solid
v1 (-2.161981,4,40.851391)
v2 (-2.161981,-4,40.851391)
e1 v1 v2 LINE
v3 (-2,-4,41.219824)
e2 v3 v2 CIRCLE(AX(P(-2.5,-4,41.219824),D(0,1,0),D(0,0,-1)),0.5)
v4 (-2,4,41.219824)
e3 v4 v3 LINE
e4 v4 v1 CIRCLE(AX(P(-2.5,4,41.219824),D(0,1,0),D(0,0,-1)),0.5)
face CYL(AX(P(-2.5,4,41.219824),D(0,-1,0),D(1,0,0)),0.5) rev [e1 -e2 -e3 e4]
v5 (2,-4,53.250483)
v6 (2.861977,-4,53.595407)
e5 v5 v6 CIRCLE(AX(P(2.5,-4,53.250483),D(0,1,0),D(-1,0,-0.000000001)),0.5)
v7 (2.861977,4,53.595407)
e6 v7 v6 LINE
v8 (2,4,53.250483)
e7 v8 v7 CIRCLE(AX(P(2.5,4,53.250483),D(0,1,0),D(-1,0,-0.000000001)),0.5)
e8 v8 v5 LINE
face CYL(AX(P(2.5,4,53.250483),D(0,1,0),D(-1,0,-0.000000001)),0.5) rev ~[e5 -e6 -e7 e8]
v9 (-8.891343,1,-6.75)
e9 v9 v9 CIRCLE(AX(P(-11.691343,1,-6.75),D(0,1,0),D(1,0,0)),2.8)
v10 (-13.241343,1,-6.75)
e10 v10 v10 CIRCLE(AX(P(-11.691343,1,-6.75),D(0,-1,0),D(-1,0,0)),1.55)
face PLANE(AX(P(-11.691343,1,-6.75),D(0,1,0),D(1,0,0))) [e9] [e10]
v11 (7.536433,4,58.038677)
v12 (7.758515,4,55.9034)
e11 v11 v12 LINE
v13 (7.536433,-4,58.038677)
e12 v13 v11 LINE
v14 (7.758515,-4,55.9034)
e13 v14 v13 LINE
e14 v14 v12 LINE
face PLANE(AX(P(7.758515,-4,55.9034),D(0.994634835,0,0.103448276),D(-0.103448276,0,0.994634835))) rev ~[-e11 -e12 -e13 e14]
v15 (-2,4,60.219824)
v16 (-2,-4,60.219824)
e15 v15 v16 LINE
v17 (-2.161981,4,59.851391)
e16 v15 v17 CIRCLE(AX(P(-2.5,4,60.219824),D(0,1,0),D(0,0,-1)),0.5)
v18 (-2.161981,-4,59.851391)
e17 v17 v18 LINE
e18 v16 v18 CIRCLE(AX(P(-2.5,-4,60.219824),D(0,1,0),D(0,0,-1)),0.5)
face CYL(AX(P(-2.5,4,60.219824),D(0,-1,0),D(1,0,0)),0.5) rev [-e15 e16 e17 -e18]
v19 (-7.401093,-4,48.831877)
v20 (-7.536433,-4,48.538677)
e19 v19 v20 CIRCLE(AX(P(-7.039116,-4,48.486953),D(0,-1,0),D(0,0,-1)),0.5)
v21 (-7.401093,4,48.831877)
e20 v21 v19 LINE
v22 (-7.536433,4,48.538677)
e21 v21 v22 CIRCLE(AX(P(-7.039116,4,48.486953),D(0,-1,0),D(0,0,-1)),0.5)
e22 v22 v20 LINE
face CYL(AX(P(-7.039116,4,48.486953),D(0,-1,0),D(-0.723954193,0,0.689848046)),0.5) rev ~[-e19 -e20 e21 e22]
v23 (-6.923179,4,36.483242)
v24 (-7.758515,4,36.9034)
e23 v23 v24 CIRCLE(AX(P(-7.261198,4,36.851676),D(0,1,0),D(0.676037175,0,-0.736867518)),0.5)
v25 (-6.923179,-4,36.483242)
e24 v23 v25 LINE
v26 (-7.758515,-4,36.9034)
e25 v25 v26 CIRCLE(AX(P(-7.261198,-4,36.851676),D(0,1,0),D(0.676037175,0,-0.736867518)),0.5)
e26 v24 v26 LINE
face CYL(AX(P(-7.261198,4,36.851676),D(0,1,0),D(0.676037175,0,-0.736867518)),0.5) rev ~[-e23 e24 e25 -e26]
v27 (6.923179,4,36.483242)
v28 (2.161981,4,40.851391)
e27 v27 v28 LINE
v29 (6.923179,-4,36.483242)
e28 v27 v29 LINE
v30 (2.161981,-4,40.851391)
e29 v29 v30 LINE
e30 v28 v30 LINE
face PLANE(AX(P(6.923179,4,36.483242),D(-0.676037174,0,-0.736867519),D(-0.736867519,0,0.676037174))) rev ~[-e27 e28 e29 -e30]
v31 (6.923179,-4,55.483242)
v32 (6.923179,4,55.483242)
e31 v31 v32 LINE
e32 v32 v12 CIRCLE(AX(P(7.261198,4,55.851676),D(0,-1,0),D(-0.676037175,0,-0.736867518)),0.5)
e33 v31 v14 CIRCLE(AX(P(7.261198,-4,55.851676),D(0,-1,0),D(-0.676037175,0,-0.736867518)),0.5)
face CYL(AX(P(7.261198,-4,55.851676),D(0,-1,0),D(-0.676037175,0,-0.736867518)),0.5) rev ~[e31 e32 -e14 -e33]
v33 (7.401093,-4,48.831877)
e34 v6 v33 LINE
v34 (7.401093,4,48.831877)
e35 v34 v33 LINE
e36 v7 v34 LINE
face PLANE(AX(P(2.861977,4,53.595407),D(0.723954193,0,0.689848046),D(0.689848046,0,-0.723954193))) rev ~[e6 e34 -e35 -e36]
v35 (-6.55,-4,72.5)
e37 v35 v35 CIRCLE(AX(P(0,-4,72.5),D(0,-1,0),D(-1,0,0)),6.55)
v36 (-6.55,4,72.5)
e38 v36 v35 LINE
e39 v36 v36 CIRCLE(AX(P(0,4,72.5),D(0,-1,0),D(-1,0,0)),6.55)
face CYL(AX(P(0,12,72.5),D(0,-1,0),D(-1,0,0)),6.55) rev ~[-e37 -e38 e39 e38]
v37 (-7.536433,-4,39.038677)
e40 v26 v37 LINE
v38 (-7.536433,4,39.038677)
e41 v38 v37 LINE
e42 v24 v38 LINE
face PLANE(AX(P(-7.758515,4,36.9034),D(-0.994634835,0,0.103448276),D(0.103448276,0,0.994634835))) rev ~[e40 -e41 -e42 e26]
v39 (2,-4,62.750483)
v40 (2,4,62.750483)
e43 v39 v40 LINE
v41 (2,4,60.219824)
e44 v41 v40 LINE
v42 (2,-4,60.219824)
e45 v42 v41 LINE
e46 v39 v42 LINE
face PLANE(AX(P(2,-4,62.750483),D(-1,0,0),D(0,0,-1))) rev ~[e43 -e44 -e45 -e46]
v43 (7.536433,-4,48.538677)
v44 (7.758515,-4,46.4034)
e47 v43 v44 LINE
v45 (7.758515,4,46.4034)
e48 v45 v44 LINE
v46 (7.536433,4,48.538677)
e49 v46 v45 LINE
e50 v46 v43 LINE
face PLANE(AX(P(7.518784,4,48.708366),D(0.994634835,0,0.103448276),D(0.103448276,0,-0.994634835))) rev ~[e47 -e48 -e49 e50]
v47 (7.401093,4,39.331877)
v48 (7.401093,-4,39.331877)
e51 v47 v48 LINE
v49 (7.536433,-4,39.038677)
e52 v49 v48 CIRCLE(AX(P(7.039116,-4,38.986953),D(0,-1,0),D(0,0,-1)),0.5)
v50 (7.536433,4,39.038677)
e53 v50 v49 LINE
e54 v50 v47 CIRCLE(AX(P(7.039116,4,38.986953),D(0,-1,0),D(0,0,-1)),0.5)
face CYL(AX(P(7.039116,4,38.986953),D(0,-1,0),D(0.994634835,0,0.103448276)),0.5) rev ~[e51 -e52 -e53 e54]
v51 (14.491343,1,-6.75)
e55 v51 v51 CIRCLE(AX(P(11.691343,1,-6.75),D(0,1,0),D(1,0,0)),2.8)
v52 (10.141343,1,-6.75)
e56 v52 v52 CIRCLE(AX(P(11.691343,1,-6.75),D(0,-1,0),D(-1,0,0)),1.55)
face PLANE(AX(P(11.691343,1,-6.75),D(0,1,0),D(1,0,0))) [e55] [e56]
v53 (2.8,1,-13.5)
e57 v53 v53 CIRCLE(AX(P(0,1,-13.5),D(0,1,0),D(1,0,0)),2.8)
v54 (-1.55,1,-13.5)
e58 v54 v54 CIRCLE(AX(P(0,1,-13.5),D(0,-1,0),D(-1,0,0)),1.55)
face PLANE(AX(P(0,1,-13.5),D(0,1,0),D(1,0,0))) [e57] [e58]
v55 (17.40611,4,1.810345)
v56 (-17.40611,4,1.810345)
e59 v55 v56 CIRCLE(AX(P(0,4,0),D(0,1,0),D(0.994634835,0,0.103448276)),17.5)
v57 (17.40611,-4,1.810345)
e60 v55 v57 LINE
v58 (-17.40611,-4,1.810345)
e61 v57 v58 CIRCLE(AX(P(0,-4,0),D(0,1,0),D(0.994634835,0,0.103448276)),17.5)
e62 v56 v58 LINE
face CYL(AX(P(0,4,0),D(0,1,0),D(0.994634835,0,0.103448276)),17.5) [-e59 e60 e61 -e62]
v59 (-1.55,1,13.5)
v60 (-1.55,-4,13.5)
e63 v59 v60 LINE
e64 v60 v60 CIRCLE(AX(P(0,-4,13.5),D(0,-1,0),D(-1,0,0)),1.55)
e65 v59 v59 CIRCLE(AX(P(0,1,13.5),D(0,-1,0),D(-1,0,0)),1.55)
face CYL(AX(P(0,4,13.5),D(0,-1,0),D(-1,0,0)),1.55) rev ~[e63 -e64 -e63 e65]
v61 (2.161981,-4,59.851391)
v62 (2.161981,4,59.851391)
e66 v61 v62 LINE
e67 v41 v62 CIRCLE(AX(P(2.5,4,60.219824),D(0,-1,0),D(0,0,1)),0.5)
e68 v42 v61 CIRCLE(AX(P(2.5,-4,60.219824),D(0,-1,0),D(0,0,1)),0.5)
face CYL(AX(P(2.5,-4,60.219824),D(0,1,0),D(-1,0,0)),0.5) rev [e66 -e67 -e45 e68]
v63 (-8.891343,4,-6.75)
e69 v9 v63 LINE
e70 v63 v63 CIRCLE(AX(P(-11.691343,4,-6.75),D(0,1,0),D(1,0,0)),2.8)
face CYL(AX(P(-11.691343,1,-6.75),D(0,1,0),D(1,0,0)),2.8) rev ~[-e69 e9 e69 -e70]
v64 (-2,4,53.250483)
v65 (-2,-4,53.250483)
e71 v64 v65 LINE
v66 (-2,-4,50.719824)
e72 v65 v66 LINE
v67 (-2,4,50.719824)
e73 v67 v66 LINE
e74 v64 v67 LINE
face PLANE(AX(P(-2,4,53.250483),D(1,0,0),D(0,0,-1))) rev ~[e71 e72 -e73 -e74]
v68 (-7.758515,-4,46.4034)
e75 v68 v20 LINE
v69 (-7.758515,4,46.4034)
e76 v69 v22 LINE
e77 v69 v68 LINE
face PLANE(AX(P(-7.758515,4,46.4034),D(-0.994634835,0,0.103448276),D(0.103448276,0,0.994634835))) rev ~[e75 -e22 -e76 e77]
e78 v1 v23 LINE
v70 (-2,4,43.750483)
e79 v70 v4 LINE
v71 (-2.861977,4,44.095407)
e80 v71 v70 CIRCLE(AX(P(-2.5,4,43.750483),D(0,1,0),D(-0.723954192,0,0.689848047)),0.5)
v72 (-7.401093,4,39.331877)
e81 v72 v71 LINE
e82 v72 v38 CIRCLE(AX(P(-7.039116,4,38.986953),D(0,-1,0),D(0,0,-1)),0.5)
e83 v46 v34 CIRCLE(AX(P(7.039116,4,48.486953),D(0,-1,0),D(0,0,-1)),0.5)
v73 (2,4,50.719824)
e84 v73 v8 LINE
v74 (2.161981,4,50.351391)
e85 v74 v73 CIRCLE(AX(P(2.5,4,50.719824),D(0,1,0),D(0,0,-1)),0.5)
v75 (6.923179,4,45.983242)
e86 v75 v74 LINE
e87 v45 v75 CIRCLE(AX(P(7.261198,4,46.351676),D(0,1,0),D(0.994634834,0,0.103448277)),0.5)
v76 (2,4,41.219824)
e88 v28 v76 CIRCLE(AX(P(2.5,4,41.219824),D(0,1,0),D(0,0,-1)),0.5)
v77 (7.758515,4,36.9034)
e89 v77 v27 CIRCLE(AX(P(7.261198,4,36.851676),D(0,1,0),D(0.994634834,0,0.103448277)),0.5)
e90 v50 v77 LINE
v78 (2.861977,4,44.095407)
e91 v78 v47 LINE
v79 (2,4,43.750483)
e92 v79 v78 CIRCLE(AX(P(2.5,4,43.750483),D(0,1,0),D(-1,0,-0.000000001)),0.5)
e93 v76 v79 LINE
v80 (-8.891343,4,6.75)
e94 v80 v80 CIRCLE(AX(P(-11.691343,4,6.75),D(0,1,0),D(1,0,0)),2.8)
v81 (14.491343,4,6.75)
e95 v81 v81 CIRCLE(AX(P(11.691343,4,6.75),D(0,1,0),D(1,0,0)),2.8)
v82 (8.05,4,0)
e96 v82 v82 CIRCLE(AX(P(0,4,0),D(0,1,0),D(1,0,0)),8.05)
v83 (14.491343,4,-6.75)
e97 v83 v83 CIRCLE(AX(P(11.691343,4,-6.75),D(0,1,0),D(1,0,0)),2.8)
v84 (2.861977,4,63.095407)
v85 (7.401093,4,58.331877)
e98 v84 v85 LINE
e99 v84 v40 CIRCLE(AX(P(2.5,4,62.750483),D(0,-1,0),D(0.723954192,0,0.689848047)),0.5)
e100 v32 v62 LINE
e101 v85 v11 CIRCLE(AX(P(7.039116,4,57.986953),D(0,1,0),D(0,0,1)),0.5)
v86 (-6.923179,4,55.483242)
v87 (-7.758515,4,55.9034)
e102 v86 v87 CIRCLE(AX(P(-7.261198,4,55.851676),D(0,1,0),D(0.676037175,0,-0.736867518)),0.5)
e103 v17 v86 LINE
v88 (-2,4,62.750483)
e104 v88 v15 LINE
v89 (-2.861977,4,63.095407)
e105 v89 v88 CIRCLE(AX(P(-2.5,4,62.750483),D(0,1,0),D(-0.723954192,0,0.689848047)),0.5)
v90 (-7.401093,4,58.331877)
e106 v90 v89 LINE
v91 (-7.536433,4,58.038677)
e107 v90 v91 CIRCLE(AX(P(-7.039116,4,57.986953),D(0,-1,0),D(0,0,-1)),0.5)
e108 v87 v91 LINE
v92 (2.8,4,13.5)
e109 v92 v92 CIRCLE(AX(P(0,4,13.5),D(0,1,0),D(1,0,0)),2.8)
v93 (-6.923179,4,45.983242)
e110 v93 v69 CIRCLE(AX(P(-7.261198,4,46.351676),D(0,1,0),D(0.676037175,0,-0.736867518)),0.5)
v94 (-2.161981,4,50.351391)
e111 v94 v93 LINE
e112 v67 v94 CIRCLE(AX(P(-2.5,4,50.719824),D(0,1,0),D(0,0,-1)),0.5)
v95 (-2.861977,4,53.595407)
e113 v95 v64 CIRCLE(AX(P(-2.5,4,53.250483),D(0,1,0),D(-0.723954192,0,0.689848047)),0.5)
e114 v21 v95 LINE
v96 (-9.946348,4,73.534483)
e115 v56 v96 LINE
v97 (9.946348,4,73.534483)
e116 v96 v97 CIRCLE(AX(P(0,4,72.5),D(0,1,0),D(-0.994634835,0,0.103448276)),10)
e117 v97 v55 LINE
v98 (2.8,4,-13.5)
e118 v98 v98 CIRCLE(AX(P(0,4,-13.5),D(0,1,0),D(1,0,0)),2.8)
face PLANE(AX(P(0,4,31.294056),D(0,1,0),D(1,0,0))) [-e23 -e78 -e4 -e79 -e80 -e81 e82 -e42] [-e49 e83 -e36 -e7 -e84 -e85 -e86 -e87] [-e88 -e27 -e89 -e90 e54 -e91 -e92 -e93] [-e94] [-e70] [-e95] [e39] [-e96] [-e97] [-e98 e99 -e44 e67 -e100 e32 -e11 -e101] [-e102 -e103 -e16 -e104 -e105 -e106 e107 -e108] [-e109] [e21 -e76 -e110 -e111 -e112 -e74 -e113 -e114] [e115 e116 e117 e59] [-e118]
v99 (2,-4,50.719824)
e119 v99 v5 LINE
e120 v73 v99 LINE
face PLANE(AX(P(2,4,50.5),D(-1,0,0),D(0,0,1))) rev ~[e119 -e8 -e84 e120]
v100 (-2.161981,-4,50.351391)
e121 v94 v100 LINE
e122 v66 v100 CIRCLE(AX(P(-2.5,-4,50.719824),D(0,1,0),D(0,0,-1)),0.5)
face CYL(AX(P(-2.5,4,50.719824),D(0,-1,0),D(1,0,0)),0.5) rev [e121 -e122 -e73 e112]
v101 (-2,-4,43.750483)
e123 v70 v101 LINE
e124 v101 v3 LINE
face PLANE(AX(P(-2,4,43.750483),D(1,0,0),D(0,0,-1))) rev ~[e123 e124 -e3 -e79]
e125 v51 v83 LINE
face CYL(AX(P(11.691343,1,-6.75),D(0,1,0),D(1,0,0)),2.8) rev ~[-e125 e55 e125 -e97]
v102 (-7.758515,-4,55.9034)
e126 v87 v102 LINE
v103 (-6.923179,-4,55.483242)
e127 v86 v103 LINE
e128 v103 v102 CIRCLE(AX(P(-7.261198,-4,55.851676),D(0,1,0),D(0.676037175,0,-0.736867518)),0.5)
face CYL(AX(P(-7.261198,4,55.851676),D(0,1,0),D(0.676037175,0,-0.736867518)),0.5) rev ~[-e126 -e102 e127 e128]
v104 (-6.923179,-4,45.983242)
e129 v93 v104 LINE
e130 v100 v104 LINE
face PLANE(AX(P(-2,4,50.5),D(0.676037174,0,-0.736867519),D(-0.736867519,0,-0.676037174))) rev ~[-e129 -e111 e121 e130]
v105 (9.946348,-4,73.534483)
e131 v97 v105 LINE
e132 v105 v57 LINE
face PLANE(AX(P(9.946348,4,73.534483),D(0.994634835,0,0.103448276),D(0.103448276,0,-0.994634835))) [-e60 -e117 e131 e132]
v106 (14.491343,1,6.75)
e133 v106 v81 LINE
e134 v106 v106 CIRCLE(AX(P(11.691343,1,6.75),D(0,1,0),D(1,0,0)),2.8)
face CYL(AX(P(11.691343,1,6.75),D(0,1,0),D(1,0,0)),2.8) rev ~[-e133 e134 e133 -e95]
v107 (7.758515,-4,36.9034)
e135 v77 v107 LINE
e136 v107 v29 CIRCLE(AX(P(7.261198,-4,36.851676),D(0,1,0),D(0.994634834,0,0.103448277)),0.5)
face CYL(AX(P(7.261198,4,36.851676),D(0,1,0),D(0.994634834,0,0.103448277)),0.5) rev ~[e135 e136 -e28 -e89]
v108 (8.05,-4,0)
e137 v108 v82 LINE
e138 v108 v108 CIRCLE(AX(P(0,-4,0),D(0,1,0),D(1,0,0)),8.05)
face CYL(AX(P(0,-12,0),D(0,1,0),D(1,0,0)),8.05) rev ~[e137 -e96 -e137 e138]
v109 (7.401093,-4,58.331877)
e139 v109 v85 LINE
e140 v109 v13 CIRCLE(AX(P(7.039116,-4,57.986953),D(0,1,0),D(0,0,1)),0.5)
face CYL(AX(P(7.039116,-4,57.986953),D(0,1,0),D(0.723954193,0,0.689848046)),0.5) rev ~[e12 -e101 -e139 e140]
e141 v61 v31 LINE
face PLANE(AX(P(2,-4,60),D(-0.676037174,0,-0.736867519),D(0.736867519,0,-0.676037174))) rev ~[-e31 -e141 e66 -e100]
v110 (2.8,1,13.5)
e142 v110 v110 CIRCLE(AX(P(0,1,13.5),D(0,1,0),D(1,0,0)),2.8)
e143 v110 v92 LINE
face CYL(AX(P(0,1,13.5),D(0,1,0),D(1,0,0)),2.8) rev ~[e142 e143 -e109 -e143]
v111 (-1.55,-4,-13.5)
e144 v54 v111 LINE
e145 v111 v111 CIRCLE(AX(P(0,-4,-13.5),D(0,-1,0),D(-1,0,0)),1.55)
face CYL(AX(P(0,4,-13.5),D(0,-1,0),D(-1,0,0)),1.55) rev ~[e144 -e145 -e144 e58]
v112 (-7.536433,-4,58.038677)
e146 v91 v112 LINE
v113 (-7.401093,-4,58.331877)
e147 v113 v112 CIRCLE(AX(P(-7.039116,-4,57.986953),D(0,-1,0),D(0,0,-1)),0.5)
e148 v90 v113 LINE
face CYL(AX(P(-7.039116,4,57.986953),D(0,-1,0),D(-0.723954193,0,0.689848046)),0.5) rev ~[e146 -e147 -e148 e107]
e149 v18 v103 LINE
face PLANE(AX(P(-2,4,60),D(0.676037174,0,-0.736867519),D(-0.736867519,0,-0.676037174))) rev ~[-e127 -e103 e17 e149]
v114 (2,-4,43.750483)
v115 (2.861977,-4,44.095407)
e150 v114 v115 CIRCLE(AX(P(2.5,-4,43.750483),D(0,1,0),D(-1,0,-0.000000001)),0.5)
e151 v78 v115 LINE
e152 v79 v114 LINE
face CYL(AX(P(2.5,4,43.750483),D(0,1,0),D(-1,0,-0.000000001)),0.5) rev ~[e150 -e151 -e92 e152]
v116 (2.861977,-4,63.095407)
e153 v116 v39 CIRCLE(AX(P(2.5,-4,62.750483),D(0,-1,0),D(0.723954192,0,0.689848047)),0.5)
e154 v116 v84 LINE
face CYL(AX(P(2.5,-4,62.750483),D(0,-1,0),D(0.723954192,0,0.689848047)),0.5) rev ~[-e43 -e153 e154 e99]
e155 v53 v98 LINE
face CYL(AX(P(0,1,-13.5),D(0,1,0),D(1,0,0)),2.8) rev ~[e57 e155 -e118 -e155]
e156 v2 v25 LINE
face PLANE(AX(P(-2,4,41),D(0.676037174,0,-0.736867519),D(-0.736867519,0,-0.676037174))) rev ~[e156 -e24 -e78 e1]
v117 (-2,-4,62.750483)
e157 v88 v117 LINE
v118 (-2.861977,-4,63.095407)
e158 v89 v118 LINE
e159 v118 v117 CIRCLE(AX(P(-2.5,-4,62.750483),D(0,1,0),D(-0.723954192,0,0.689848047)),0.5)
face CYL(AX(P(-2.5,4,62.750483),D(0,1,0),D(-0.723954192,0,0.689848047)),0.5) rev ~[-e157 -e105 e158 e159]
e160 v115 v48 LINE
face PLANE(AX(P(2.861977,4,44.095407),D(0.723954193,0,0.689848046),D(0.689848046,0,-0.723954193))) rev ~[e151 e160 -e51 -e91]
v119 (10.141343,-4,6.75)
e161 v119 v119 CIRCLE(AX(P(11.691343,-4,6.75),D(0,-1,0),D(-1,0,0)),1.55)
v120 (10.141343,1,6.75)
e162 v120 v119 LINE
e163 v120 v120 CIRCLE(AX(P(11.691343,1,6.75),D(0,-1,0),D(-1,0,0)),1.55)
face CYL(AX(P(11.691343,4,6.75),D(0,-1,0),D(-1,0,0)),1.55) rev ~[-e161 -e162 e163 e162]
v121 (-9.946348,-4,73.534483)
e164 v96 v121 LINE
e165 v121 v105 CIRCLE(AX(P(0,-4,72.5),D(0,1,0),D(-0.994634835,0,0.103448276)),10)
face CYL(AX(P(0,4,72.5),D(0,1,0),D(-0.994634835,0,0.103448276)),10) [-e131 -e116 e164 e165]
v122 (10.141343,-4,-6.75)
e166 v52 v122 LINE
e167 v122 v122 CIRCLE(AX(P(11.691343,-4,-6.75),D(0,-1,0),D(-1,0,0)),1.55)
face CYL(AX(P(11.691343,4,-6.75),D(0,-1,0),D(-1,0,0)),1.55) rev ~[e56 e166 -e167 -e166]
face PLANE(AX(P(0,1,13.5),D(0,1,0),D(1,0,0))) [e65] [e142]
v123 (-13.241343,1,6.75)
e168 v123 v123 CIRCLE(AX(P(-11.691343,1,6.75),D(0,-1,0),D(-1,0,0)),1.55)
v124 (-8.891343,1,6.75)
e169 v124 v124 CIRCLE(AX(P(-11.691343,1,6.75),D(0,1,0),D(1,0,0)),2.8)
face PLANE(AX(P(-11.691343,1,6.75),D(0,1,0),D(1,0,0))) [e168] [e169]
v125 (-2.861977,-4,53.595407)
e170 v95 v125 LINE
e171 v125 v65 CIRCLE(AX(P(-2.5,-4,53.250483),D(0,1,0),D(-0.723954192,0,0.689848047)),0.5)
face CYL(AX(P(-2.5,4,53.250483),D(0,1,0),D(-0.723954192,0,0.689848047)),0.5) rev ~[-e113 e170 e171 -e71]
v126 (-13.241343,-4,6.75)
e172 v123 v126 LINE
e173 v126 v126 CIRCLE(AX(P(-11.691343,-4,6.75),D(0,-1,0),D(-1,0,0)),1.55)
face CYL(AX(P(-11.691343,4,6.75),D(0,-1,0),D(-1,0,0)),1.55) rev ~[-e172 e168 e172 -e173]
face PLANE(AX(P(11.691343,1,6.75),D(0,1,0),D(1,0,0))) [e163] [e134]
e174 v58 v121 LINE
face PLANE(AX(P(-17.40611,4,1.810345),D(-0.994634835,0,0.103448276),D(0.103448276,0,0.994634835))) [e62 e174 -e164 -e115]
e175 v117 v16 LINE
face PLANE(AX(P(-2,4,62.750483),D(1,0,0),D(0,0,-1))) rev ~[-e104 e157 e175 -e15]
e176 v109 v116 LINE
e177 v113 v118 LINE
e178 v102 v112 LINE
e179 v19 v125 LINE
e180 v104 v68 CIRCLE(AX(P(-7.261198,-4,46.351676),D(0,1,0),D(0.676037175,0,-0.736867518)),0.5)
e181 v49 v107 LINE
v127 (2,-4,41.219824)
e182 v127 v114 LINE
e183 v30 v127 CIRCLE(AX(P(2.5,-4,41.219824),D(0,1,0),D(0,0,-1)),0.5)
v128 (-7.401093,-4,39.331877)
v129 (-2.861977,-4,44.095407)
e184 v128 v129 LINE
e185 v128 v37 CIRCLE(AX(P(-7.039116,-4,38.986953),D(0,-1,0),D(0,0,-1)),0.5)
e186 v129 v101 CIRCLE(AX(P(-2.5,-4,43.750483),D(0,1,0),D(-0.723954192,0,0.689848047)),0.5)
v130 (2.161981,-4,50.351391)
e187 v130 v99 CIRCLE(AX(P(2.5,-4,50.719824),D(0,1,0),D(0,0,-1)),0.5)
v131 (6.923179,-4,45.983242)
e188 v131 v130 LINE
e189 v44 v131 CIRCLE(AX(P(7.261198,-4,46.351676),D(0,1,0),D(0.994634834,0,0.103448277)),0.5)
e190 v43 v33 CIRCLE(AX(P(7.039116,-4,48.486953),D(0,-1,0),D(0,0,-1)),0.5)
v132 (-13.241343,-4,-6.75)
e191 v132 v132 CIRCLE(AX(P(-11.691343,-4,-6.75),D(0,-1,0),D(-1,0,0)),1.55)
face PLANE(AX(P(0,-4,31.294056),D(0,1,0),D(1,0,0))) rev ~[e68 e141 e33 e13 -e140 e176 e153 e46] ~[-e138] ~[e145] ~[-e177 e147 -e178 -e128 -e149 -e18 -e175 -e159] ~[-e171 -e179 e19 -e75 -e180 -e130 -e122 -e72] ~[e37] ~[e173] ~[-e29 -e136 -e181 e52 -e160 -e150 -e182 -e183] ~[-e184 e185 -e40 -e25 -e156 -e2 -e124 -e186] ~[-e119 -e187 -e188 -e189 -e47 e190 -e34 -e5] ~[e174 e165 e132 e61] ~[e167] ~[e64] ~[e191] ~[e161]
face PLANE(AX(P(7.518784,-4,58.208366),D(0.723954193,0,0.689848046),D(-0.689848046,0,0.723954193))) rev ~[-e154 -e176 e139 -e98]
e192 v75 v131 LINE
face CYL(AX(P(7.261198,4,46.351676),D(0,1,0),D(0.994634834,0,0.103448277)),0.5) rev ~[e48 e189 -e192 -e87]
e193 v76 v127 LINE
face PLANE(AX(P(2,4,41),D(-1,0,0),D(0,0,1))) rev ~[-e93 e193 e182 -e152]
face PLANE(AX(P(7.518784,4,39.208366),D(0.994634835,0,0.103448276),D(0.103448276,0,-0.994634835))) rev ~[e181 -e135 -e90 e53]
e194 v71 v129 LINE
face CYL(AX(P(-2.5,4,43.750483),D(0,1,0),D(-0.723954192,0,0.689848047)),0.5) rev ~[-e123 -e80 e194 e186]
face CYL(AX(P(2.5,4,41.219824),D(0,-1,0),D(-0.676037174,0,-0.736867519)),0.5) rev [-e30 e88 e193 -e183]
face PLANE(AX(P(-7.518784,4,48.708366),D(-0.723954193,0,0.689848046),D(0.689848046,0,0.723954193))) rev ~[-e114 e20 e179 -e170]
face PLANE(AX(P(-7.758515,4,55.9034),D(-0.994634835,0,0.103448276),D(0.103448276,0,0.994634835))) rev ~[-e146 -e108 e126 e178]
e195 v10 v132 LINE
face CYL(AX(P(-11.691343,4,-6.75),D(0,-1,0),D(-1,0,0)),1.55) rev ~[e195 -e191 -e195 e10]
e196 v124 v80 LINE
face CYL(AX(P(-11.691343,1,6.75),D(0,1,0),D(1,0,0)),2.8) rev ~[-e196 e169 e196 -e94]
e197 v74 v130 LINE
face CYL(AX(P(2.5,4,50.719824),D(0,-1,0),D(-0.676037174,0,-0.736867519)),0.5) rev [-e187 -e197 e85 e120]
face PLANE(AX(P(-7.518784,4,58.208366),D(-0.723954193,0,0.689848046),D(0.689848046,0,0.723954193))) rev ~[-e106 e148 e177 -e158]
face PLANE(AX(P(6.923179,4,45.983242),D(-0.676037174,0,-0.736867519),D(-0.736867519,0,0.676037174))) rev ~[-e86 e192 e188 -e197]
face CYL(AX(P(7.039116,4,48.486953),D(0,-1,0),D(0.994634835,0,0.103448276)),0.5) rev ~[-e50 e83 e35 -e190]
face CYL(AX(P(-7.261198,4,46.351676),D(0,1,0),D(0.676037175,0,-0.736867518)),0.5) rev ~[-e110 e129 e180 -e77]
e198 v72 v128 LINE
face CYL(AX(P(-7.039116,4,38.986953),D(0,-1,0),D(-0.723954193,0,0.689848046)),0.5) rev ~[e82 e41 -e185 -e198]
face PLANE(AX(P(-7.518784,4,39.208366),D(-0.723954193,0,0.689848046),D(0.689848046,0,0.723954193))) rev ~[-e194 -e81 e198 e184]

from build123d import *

# Parameters (mm, degrees)
EXTRUDE_1_DEPTH                = 8
CUT_EXTRUDE_1_DEPTH            = 9
CUT_EXTRUDE_2_DEPTH            = 9
CUT_EXTRUDE_3_DEPTH            = 9
CUT_EXTRUDE_4_DEPTH            = 9
CUT_EXTRUDE_5_DEPTH            = 9
CUT_EXTRUDE_6_DEPTH            = 9
HOLE_WIZARD_16_0_16_1_D        = 16.1
HOLE_WIZARD_16_0_16_1_DEPTH    = 8
HOLE_WIZARD_13_0_13_1_D        = 13.1
HOLE_WIZARD_13_0_13_1_DEPTH    = 8
HOLE_WIZARD_M2_5_1_D           = 3.1
HOLE_WIZARD_M2_5_1_DEPTH       = 8
HOLE_WIZARD_M2_5_1_CBORE_D     = 5.6
HOLE_WIZARD_M2_5_1_CBORE_DEPTH = 3
FILLET_1_R                     = 0.5


with BuildPart() as part:
    # 草图1 → 凸台-拉伸1 (new body)
    with BuildSketch(Plane(origin=(0, 4, 0), x_dir=(1, 0, 0), z_dir=(0, 1, 0))):
        with BuildLine():
            Line((-17.406109606, -1.810344828), (-9.946348346, -73.534482759))
            ThreePointArc((-9.946348346, -73.534482759), (0, -82.5), (9.946348346, -73.534482759))
            Line((9.946348346, -73.534482759), (17.406109606, -1.810344828))
            ThreePointArc((17.406109606, -1.810344828), (0, 17.5), (-17.406109606, -1.810344828))
        make_face()
    extrude(amount=-EXTRUDE_1_DEPTH)

    # 草图2 → 切除-拉伸1 (cut, through all)
    with BuildSketch(Plane(origin=(0, 4, 0), x_dir=(-1, 0, 0), z_dir=(0, 1, 0))):
        with BuildLine():
            Line((2, 43.750482659), (2, 41))
            Line((2, 41), (6.923179382, 36.483241979))
            ThreePointArc((6.923179382, 36.483241979), (7.485869271, 36.40499598), (7.758515386, 36.903399876))
            Line((7.758515386, 36.903399876), (7.518784371, 39.208366459))
            Line((7.518784371, 39.208366459), (2.861977096, 44.095406683))
            ThreePointArc((2.861977096, 44.095406683), (2.314242831, 44.214696268), (2, 43.750482659))
        make_face()
    extrude(amount=-CUT_EXTRUDE_1_DEPTH, mode=Mode.SUBTRACT)

    # 草图3 → 切除-拉伸2 (cut, through all)
    with BuildSketch(Plane(origin=(0, 4, 0), x_dir=(-1, 0, 0), z_dir=(0, 1, 0))):
        with BuildLine():
            Line((-6.923179382, 36.483241979), (-2, 41))
            Line((-2, 41), (-2, 43.750482659))
            ThreePointArc((-2, 43.750482659), (-2.314242831, 44.214696268), (-2.861977096, 44.095406683))
            Line((-2.861977096, 44.095406683), (-7.518784371, 39.208366459))
            Line((-7.518784371, 39.208366459), (-7.758515386, 36.903399876))
            ThreePointArc((-7.758515386, 36.903399876), (-7.485869271, 36.40499598), (-6.923179382, 36.483241979))
        make_face()
    extrude(amount=-CUT_EXTRUDE_2_DEPTH, mode=Mode.SUBTRACT)

    # 草图4 → 切除-拉伸3 (cut, through all)
    with BuildSketch(Plane(origin=(0, 4, 0), x_dir=(-1, 0, 0), z_dir=(0, 1, 0))):
        with BuildLine():
            Line((2, 53.250482659), (2, 50.5))
            Line((2, 50.5), (6.923179382, 45.983241979))
            ThreePointArc((6.923179382, 45.983241979), (7.485869271, 45.90499598), (7.758515386, 46.403399876))
            Line((7.758515386, 46.403399876), (7.518784371, 48.708366459))
            Line((7.518784371, 48.708366459), (2.861977096, 53.595406683))
            ThreePointArc((2.861977096, 53.595406683), (2.314242831, 53.714696268), (2, 53.250482659))
        make_face()
    extrude(amount=-CUT_EXTRUDE_3_DEPTH, mode=Mode.SUBTRACT)

    # 草图5 → 切除-拉伸4 (cut, through all)
    with BuildSketch(Plane(origin=(0, 4, 0), x_dir=(-1, 0, 0), z_dir=(0, 1, 0))):
        with BuildLine():
            Line((-6.923179382, 45.983241979), (-2, 50.5))
            Line((-2, 50.5), (-2, 53.250482659))
            ThreePointArc((-2, 53.250482659), (-2.314242831, 53.714696268), (-2.861977096, 53.595406683))
            Line((-2.861977096, 53.595406683), (-7.518784371, 48.708366459))
            Line((-7.518784371, 48.708366459), (-7.758515386, 46.403399876))
            ThreePointArc((-7.758515386, 46.403399876), (-7.485869271, 45.90499598), (-6.923179382, 45.983241979))
        make_face()
    extrude(amount=-CUT_EXTRUDE_4_DEPTH, mode=Mode.SUBTRACT)

    # 草图6 → 切除-拉伸5 (cut, through all)
    with BuildSketch(Plane(origin=(0, 4, 0), x_dir=(-1, 0, 0), z_dir=(0, 1, 0))):
        with BuildLine():
            Line((2, 62.750482659), (2, 60))
            Line((2, 60), (6.923179382, 55.483241979))
            ThreePointArc((6.923179382, 55.483241979), (7.485869271, 55.40499598), (7.758515386, 55.903399876))
            Line((7.758515386, 55.903399876), (7.518784371, 58.208366459))
            Line((7.518784371, 58.208366459), (2.861977096, 63.095406683))
            ThreePointArc((2.861977096, 63.095406683), (2.314242831, 63.214696268), (2, 62.750482659))
        make_face()
    extrude(amount=-CUT_EXTRUDE_5_DEPTH, mode=Mode.SUBTRACT)

    # 草图7 → 切除-拉伸6 (cut, through all)
    with BuildSketch(Plane.XZ.offset(4)):
        with BuildLine():
            Line((2, 62.750482659), (2, 60))
            Line((2, 60), (6.923179382, 55.483241979))
            ThreePointArc((6.923179382, 55.483241979), (7.485869271, 55.40499598), (7.758515386, 55.903399876))
            Line((7.758515386, 55.903399876), (7.518784371, 58.208366459))
            Line((7.518784371, 58.208366459), (2.861977096, 63.095406683))
            ThreePointArc((2.861977096, 63.095406683), (2.314242831, 63.214696268), (2, 62.750482659))
        make_face()
    extrude(amount=-CUT_EXTRUDE_6_DEPTH, mode=Mode.SUBTRACT)

    # Ø16.0 (16) 直径孔1
    with Locations(Plane(origin=(0, -4, 0), x_dir=(-1, 0, 0), z_dir=(0, -1, 0))):
        with Locations((0, 0)):
            Hole(HOLE_WIZARD_16_0_16_1_D / 2, depth=HOLE_WIZARD_16_0_16_1_DEPTH)

    # Ø13.0 (13) 直径孔1
    with Locations(Plane(origin=(0, 4, 0), x_dir=(1, 0, 0), z_dir=(0, 1, 0))):
        with Locations((0, -72.5)):
            Hole(HOLE_WIZARD_13_0_13_1_D / 2, depth=HOLE_WIZARD_13_0_13_1_DEPTH)

    # M2.5 六角头机械螺钉的柱形沉头孔1
    with Locations(Plane(origin=(0, 4, 0), x_dir=(1, 0, 0), z_dir=(0, 1, 0))):
        with Locations((-11.691342951, -6.75), (-11.691342951, 6.75), (0, 13.5), (11.691342951, 6.75), (11.691342951, -6.75), (0, -13.5)):
            CounterBoreHole(HOLE_WIZARD_M2_5_1_D / 2, HOLE_WIZARD_M2_5_1_CBORE_D / 2, HOLE_WIZARD_M2_5_1_CBORE_DEPTH, depth=HOLE_WIZARD_M2_5_1_DEPTH)

    # 圆角1
    fillet_1_edges = [part.edges().sort_by_distance(p)[0] for p in [
        (-7.518784371, 0, 58.208366459),
        (-2, 0, 60),
        (7.518784371, 0, 58.208366459),
        (2, 0, 60),
        (-7.518784371, 0, 39.208366459),
        (-2, 0, 41),
        (7.518784371, 0, 39.208366459),
        (2, 0, 41),
        (-7.518784371, 0, 48.708366459),
        (-2, 0, 50.5),
        (7.518784371, 0, 48.708366459),
        (2, 0, 50.5),
    ]]
    fillet(fillet_1_edges, radius=FILLET_1_R)


solid = part.part
